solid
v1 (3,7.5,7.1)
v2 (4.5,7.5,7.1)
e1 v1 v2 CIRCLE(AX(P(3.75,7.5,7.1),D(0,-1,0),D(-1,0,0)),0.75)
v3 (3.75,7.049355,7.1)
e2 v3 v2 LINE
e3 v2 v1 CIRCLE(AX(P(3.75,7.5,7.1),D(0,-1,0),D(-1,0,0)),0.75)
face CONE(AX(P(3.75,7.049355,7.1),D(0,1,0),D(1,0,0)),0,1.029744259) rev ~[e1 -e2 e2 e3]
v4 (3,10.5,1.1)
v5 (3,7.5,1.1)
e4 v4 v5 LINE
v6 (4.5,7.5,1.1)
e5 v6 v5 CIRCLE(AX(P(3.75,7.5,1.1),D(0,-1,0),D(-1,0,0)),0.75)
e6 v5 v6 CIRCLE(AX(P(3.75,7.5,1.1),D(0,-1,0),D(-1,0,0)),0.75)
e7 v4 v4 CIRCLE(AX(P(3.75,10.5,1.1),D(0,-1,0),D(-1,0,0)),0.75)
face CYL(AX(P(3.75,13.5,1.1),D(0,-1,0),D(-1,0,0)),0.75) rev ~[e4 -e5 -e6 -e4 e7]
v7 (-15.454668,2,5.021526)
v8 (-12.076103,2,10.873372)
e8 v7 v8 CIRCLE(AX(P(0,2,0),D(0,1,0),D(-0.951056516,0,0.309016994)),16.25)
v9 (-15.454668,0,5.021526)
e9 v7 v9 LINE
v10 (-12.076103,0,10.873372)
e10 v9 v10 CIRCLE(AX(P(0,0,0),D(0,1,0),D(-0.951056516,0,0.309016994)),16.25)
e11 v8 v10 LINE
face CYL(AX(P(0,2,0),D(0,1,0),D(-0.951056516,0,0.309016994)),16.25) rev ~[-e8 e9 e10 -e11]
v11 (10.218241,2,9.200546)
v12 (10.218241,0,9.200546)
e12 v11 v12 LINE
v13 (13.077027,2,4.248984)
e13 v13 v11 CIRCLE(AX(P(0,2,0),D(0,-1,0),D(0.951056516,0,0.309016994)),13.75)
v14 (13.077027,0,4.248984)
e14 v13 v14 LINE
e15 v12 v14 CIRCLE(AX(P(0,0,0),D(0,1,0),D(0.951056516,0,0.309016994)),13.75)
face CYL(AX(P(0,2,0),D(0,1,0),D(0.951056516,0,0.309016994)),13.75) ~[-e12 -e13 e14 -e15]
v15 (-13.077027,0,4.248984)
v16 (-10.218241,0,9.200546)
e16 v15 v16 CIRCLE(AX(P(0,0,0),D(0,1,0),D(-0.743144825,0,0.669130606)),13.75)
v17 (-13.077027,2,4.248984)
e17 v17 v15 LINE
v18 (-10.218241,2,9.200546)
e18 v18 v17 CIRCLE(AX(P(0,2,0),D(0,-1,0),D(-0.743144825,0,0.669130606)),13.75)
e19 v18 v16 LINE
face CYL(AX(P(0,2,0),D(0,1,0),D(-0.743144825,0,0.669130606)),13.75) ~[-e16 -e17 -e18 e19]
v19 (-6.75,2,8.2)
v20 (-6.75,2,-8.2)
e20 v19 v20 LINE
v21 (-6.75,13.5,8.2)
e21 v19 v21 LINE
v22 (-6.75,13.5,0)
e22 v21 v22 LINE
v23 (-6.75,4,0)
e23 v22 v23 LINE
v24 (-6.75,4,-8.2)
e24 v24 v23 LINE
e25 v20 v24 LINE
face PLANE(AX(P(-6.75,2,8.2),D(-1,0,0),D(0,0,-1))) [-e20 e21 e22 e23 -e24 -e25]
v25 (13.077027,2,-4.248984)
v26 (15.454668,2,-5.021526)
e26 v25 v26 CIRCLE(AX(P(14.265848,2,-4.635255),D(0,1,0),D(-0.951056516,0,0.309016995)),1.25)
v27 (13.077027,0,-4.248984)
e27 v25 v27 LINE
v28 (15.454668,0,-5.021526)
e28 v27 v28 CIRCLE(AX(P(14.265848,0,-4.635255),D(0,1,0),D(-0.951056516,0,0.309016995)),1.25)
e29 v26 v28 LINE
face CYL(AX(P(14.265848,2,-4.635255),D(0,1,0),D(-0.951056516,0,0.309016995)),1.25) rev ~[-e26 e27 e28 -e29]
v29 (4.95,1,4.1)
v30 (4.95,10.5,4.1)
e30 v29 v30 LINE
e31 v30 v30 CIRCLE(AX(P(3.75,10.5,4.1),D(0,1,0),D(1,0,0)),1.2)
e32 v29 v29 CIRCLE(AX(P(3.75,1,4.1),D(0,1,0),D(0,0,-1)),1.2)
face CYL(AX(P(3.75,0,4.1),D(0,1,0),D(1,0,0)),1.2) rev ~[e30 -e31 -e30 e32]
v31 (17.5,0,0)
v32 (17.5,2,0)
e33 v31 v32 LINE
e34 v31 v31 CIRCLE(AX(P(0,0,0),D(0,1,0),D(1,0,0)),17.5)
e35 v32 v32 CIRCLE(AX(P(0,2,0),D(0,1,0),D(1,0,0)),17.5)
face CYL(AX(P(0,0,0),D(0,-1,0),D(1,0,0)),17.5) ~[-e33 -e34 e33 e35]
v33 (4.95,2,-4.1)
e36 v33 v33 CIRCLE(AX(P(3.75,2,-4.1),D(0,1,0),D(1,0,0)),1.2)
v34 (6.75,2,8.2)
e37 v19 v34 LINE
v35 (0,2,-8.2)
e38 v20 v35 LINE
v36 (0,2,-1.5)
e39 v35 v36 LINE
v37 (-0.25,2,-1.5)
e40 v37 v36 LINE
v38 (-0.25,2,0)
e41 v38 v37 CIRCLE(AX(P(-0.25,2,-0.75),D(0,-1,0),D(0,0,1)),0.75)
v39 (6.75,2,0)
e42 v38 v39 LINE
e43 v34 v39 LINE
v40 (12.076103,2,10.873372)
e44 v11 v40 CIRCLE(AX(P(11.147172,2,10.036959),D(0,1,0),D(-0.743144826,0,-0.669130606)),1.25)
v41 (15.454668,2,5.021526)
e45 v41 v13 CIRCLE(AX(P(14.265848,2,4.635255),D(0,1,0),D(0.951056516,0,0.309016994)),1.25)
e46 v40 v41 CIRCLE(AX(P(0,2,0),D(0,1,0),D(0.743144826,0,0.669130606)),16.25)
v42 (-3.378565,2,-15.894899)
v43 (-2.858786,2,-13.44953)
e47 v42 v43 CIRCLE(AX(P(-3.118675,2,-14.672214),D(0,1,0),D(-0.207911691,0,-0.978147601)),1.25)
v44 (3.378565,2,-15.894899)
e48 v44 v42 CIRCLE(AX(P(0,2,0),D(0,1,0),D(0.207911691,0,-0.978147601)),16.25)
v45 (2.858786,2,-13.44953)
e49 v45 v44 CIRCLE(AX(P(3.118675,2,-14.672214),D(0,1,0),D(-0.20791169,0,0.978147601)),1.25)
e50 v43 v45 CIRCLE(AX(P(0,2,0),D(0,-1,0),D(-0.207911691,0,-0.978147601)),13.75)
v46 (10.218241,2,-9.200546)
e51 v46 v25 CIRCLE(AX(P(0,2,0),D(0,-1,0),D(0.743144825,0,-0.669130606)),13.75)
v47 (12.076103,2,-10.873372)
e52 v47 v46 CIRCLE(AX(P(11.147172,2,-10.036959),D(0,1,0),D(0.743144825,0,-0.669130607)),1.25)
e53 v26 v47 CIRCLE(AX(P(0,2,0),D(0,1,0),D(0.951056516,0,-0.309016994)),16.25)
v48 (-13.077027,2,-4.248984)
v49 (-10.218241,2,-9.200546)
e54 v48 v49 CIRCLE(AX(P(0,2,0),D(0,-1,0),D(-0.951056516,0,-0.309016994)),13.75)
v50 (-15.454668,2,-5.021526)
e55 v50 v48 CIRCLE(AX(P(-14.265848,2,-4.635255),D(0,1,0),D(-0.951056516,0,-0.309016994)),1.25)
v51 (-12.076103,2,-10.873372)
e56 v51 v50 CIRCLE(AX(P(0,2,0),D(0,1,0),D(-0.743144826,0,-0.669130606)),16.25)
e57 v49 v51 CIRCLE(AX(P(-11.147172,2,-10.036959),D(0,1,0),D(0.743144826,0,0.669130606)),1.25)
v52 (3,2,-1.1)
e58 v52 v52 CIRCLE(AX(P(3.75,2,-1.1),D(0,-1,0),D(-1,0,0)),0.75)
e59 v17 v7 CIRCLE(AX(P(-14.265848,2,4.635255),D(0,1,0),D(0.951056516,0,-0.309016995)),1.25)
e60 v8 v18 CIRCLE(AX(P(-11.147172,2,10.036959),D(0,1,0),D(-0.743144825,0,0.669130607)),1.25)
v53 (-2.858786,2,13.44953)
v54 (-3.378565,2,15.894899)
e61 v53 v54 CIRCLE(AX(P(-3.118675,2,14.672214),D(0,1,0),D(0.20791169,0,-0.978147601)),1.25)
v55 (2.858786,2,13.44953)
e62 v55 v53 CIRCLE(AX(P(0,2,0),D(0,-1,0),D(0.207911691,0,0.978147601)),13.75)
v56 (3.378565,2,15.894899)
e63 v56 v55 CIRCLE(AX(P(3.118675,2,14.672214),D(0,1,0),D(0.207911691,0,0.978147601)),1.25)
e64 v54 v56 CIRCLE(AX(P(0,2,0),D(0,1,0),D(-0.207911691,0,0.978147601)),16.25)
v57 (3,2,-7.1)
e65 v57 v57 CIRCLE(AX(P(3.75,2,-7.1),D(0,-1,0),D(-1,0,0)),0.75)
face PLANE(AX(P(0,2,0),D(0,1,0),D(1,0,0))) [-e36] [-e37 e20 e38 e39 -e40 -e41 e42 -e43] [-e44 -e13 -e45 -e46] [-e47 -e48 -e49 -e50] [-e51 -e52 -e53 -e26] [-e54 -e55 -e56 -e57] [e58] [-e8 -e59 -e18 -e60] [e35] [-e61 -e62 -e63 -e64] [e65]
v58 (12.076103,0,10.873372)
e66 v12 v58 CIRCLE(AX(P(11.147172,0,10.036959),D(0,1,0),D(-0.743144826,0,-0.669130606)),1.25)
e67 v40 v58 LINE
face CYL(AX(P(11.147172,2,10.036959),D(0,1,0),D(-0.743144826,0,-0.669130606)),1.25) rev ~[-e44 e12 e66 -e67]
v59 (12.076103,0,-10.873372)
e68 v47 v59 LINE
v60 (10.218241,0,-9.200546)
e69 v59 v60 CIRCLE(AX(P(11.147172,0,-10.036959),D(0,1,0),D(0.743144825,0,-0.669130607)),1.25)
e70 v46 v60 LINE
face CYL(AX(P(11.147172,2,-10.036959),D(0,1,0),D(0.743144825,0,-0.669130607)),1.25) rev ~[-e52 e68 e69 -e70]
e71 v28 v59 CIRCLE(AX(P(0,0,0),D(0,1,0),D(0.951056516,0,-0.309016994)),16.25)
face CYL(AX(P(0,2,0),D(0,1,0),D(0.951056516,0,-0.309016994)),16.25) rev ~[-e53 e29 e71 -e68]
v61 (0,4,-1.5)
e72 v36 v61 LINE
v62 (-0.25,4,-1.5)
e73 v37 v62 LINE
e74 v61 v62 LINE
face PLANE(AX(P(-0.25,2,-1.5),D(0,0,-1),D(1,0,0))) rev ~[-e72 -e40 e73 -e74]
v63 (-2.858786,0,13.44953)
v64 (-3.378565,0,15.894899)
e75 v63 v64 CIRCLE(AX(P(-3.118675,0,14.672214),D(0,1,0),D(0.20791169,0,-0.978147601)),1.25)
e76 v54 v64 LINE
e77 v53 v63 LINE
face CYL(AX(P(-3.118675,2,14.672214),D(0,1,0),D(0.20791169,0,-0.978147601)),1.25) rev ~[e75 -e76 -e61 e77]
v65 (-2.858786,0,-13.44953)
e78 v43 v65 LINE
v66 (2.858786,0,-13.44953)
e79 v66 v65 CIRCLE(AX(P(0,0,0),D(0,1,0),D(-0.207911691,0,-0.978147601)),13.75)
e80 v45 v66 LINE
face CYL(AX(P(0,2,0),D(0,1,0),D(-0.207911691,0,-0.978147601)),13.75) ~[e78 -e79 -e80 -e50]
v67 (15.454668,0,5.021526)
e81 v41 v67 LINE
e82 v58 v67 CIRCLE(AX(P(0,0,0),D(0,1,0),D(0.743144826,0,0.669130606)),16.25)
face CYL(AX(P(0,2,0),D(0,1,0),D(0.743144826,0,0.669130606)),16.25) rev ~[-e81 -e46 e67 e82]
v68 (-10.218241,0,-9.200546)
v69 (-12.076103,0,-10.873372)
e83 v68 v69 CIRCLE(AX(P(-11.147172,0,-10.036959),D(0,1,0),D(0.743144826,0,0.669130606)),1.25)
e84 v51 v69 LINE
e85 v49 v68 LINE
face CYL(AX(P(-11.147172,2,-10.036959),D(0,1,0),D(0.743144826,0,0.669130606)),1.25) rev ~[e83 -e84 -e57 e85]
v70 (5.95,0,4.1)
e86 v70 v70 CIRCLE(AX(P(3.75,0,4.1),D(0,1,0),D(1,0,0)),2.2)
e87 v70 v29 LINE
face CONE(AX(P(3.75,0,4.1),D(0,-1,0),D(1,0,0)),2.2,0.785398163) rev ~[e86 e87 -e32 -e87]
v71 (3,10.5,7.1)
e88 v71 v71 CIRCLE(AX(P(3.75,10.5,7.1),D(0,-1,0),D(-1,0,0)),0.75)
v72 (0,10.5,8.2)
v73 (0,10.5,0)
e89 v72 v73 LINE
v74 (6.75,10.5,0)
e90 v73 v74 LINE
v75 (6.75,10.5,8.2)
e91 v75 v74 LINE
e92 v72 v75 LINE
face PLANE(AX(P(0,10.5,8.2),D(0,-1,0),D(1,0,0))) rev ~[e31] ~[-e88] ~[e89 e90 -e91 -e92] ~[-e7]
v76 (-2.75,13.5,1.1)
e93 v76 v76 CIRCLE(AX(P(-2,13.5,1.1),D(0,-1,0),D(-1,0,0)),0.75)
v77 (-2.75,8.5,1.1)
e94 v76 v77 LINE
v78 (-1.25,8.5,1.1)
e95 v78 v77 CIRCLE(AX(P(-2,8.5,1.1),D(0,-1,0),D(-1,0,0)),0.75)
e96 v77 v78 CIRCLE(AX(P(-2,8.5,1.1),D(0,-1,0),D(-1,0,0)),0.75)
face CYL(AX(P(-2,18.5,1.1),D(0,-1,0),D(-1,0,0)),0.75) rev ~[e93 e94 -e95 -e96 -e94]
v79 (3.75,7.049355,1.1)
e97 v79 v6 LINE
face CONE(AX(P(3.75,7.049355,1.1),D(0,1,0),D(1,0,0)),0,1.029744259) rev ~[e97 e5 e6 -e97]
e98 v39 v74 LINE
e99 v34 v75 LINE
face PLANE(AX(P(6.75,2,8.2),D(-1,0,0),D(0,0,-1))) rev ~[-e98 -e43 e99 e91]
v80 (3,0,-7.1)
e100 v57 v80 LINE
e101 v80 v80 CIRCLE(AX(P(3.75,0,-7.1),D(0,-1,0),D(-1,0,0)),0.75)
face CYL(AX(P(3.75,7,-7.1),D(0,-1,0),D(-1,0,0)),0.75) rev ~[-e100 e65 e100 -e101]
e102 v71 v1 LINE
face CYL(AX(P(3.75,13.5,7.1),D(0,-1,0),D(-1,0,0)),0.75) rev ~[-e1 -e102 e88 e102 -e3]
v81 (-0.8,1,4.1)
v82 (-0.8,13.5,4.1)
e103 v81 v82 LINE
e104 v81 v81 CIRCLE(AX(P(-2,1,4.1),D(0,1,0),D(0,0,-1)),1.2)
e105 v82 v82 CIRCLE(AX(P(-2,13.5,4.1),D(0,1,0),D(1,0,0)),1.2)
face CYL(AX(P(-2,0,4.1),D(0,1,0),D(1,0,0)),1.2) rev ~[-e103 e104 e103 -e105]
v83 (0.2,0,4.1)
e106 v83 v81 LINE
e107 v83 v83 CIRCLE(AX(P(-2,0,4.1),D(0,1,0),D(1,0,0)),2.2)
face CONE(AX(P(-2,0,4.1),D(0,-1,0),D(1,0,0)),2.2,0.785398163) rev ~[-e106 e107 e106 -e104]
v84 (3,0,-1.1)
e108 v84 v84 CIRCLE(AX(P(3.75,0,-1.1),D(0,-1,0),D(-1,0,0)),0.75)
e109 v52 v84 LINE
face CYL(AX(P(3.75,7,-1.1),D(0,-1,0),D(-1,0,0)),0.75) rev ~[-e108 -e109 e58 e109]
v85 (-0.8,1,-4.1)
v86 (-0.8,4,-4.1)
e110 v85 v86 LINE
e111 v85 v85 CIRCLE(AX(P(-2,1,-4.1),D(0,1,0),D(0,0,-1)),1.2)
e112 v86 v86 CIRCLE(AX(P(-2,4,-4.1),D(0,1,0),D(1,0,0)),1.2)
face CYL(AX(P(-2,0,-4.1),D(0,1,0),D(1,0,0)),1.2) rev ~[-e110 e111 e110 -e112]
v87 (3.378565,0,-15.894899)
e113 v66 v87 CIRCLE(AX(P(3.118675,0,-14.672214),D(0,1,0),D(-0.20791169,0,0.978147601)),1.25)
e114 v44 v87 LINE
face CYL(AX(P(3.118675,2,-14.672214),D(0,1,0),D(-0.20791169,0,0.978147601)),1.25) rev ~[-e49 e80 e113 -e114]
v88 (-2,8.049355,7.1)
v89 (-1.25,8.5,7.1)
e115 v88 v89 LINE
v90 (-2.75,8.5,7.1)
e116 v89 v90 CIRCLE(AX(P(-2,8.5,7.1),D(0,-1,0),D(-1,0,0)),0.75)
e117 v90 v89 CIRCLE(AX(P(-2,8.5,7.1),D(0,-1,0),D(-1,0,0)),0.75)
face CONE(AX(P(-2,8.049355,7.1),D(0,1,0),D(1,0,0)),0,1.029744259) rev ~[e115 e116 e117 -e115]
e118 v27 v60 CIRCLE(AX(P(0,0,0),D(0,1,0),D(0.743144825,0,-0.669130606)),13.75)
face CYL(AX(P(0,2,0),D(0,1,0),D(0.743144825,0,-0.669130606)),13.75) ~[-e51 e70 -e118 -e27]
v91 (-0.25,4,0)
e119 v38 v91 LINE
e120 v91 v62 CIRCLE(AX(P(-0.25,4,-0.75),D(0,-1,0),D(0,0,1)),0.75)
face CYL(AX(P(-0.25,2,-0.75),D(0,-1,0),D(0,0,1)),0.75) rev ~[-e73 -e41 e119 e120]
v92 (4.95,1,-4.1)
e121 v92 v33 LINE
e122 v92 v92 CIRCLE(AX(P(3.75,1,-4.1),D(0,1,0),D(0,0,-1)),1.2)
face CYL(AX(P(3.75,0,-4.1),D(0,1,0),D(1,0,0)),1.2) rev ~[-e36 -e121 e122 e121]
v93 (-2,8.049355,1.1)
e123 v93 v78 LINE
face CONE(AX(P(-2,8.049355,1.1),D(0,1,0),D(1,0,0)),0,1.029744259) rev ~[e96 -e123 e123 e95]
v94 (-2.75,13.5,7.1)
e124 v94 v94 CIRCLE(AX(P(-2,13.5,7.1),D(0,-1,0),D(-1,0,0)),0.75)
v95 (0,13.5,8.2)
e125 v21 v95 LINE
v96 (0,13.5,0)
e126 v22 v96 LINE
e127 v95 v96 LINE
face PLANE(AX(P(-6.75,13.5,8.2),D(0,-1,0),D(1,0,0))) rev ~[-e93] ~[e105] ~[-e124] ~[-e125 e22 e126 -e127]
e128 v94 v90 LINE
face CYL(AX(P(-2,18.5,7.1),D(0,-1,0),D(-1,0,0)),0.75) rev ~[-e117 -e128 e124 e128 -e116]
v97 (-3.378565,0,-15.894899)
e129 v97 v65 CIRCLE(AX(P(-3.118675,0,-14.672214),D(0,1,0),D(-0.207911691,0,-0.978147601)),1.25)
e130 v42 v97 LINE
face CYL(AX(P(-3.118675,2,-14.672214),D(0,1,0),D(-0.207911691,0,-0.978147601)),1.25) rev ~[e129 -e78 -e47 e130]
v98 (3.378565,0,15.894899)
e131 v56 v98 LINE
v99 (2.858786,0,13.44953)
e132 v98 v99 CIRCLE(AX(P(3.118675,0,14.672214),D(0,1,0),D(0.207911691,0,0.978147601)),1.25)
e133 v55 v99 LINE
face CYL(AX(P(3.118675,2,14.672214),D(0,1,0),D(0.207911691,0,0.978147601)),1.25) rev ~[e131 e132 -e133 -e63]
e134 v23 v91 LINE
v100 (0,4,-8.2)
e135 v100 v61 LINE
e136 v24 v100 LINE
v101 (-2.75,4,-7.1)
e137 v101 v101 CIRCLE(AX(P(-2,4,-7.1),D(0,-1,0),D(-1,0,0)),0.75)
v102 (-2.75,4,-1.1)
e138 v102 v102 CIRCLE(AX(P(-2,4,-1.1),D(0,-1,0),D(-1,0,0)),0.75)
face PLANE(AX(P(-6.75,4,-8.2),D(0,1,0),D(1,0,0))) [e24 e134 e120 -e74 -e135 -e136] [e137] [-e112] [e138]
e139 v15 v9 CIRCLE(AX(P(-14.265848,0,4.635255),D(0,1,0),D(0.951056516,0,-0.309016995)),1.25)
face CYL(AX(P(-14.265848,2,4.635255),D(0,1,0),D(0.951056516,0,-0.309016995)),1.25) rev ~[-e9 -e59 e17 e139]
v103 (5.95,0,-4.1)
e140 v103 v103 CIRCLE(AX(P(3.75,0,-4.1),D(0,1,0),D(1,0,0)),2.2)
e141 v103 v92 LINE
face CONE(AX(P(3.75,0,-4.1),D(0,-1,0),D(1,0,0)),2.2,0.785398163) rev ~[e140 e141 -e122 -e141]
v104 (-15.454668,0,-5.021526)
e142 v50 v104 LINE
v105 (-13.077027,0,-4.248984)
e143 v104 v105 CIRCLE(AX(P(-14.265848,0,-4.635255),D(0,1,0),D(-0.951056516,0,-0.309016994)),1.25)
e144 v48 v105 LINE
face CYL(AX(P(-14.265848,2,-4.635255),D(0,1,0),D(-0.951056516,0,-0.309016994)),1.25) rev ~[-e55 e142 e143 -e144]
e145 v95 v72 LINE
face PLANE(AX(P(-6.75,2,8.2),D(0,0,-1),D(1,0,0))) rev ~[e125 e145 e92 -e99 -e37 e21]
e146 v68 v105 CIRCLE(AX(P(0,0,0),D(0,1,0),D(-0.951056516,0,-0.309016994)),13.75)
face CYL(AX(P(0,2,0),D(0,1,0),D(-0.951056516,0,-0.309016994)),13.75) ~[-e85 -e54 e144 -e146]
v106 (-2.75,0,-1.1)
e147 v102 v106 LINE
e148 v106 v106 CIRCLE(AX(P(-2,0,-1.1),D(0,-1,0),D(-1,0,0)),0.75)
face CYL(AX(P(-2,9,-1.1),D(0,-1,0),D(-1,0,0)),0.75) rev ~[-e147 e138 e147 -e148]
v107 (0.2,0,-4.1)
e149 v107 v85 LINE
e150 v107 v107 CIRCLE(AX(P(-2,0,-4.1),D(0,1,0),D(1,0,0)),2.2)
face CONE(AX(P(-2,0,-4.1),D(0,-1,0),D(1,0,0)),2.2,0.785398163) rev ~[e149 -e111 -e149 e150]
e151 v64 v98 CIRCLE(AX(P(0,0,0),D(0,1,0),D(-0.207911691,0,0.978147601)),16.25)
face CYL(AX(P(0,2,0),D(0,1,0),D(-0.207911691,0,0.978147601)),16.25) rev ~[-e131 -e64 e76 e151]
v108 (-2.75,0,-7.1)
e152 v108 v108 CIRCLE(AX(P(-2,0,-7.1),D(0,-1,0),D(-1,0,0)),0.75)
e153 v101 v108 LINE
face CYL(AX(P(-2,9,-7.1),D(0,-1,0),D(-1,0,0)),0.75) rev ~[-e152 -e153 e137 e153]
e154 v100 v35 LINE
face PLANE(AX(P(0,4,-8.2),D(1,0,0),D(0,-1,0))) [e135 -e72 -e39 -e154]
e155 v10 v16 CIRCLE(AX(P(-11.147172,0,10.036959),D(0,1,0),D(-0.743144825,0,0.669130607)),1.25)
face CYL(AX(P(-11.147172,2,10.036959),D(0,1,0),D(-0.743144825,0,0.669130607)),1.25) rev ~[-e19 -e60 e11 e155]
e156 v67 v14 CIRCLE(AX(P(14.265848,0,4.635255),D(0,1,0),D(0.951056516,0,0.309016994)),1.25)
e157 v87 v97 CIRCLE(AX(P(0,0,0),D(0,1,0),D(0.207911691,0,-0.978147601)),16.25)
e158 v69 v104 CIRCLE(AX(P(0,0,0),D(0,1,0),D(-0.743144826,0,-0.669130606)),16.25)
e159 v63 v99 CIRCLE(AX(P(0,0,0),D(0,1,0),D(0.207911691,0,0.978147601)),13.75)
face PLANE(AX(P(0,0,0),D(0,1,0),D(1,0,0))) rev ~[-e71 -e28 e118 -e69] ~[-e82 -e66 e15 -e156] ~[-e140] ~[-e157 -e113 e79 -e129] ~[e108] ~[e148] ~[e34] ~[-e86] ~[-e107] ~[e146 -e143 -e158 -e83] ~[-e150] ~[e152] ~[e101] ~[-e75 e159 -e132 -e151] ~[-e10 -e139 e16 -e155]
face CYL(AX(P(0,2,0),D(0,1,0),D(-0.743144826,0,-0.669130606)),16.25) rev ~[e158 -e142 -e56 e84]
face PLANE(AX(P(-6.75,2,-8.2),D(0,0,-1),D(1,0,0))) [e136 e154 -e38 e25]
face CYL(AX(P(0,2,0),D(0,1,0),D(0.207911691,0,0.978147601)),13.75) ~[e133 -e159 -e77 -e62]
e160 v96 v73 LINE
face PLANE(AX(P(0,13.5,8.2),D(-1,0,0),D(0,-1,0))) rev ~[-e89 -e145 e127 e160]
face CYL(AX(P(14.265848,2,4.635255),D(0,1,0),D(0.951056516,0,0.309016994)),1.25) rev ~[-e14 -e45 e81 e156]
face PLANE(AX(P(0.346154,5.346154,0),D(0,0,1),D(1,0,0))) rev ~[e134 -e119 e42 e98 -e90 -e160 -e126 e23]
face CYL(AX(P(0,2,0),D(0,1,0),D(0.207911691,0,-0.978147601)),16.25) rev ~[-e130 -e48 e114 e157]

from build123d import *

# Parameters (mm, degrees)
SKETCH1_R                                       = 17.5
BOSS_EXTRUDE1_DEPTH                             = 2
CUT_EXTRUDE1_DEPTH                              = 3
CIRPATTERN1_COUNT                               = 6
SKETCH3_W                                       = 13.5
SKETCH3_H                                       = 16.4
BOSS_EXTRUDE2_DEPTH                             = 17.5
SKETCH4_W                                       = 13.5
SKETCH4_H                                       = 8.2
CUT_EXTRUDE2_DEPTH                              = 11.5
CUT_EXTRUDE3_DEPTH                              = 26.7
CUT_EXTRUDE4_DEPTH                              = 8.2
F_1_5MM_DOWEL_HOLE1_D                           = 1.5
F_1_5MM_DOWEL_HOLE1_DEPTH                       = 5
F_1_5MM_DOWEL_HOLE1_TIP                         = 0.450645464
F_1_5MM_DOWEL_HOLE2_D                           = 1.5
F_1_5MM_DOWEL_HOLE2_DEPTH                       = 3
F_1_5MM_DOWEL_HOLE2_TIP                         = 0.450645464
F_1_5MM_DOWEL_HOLE4_D                           = 1.5
F_1_5MM_DOWEL_HOLE4_DEPTH                       = 5
F_1_5MM_DOWEL_HOLE4_TIP                         = 0.450645464
F_1_5MM_DOWEL_HOLE3_D                           = 1.5
F_1_5MM_DOWEL_HOLE3_DEPTH                       = 5
F_1_5MM_DOWEL_HOLE3_TIP                         = 0.450645464
SKETCH16_R                                      = 1
CUT_EXTRUDE7_DEPTH                              = 14.5
CSK_FOR_M2_FLAT_HEAD_MACHINE_SCREW2_D           = 2.4
CSK_FOR_M2_FLAT_HEAD_MACHINE_SCREW2_CSINK_D     = 4.4
CSK_FOR_M2_FLAT_HEAD_MACHINE_SCREW2_CSINK_ANGLE = 90
CUT_EXTRUDE6_DEPTH                              = 11.5


with BuildPart() as part:
    # Sketch1 → Boss-Extrude1 (new body)
    with BuildSketch(Plane(origin=(0, 0, 0), x_dir=(1, 0, 0), z_dir=(0, 1, 0))):
        Circle(SKETCH1_R)
    extrude(amount=BOSS_EXTRUDE1_DEPTH)

    # Sketch2 → Cut-Extrude1 (cut, through all)
    with BuildSketch(Plane(origin=(0, 2, 0), x_dir=(1, 0, 0), z_dir=(0, 1, 0))):
        with BuildLine():
            ThreePointArc((3.378564976, 15.894898512), (0, 16.25), (-3.378564976, 15.894898512))
            ThreePointArc((-3.378564976, 15.894898512), (-4.341359863, 14.412324397), (-2.858785749, 13.44952951))
            ThreePointArc((-2.858785749, 13.44952951), (0, 13.75), (2.858785749, 13.44952951))
            ThreePointArc((2.858785749, 13.44952951), (4.341359863, 14.412324397), (3.378564976, 15.894898512))
        make_face()
    cut_extrude1 = extrude(amount=-CUT_EXTRUDE1_DEPTH, mode=Mode.SUBTRACT)

    # CirPattern1: Cut-Extrude1 ×6 about axis
    cirpattern1_axis = Axis((0, 0, 0), (0, 1, 0))
    for i in range(1, CIRPATTERN1_COUNT):
        add(cut_extrude1.rotate(cirpattern1_axis, i * 360 / CIRPATTERN1_COUNT), mode=Mode.SUBTRACT)

    # Sketch3 → Boss-Extrude2 (add)
    with BuildSketch(Plane(origin=(0, 2, 0), x_dir=(1, 0, 0), z_dir=(0, 1, 0))):
        Rectangle(SKETCH3_W, SKETCH3_H)
    extrude(amount=BOSS_EXTRUDE2_DEPTH)

    # Sketch4 → Cut-Extrude2 (cut)
    with BuildSketch(Plane(origin=(0, 19.5, 0), x_dir=(1, 0, 0), z_dir=(0, 1, 0))):
        with Locations((0, 4.1)):
            Rectangle(SKETCH4_W, SKETCH4_H)
    extrude(amount=-CUT_EXTRUDE2_DEPTH, mode=Mode.SUBTRACT)

    # Sketch5 → Cut-Extrude3 (cut, through all)
    with BuildSketch(Plane.XY.offset(8.2)):
        Polygon((-6.75, 19.5), (-6.75, 13.5), (0, 13.5), (0, 10.5), (6.75, 10.5), (6.75, 19.5), align=None)
    extrude(amount=-CUT_EXTRUDE3_DEPTH, mode=Mode.SUBTRACT)

    # Sketch6 → Cut-Extrude4 (cut)
    with BuildSketch(Plane(origin=(0, 0, -8.2), x_dir=(-1, 0, 0), z_dir=(0, 0, -1))):
        Polygon((6.75, 8), (6.75, 4), (0, 4), (0, 2), (-6.75, 2), (-6.75, 8), align=None)
    extrude(amount=-CUT_EXTRUDE4_DEPTH, mode=Mode.SUBTRACT)

    # Ø1.5mm Dowel Hole1
    with Locations(Plane(origin=(0, 13.5, 0), x_dir=(1, 0, 0), z_dir=(0, 1, 0))):
        with Locations((-2, -1.1), (-2, -7.1)):
            Hole(F_1_5MM_DOWEL_HOLE1_D / 2, depth=F_1_5MM_DOWEL_HOLE1_DEPTH)
            with Locations((0, 0, -(F_1_5MM_DOWEL_HOLE1_DEPTH + F_1_5MM_DOWEL_HOLE1_TIP / 2))):  # 118° drill point
                Cone(0, F_1_5MM_DOWEL_HOLE1_D / 2, F_1_5MM_DOWEL_HOLE1_TIP, mode=Mode.SUBTRACT)

    # Ø1.5mm Dowel Hole2
    with Locations(Plane(origin=(0, 10.5, 0), x_dir=(1, 0, 0), z_dir=(0, 1, 0))):
        with Locations((3.75, -1.1), (3.75, -7.1)):
            Hole(F_1_5MM_DOWEL_HOLE2_D / 2, depth=F_1_5MM_DOWEL_HOLE2_DEPTH)
            with Locations((0, 0, -(F_1_5MM_DOWEL_HOLE2_DEPTH + F_1_5MM_DOWEL_HOLE2_TIP / 2))):  # 118° drill point
                Cone(0, F_1_5MM_DOWEL_HOLE2_D / 2, F_1_5MM_DOWEL_HOLE2_TIP, mode=Mode.SUBTRACT)

    # Ø1.5mm Dowel Hole4
    with Locations(Plane(origin=(0, 4, 0), x_dir=(1, 0, 0), z_dir=(0, 1, 0))):
        with Locations((-2, 7.1), (-2, 1.1)):
            Hole(F_1_5MM_DOWEL_HOLE4_D / 2, depth=F_1_5MM_DOWEL_HOLE4_DEPTH)
            with Locations((0, 0, -(F_1_5MM_DOWEL_HOLE4_DEPTH + F_1_5MM_DOWEL_HOLE4_TIP / 2))):  # 118° drill point
                Cone(0, F_1_5MM_DOWEL_HOLE4_D / 2, F_1_5MM_DOWEL_HOLE4_TIP, mode=Mode.SUBTRACT)

    # Ø1.5mm Dowel Hole3
    with Locations(Plane(origin=(0, 2, 0), x_dir=(1, 0, 0), z_dir=(0, 1, 0))):
        with Locations((3.75, 7.1), (3.75, 1.1)):
            Hole(F_1_5MM_DOWEL_HOLE3_D / 2, depth=F_1_5MM_DOWEL_HOLE3_DEPTH)
            with Locations((0, 0, -(F_1_5MM_DOWEL_HOLE3_DEPTH + F_1_5MM_DOWEL_HOLE3_TIP / 2))):  # 118° drill point
                Cone(0, F_1_5MM_DOWEL_HOLE3_D / 2, F_1_5MM_DOWEL_HOLE3_TIP, mode=Mode.SUBTRACT)

    # Sketch16 → Cut-Extrude7 (cut, through all)
    with BuildSketch(Plane(origin=(0, 13.5, 0), x_dir=(1, 0, 0), z_dir=(0, 1, 0))):
        with Locations((-2, -4.1)):
            Circle(SKETCH16_R)
        with Locations((3.75, -4.1)):
            Circle(SKETCH16_R)
        with Locations((3.75, 4.1)):
            Circle(SKETCH16_R)
        with Locations((-2, 4.1)):
            Circle(SKETCH16_R)
    extrude(amount=-CUT_EXTRUDE7_DEPTH, mode=Mode.SUBTRACT)

    # CSK for M2 Flat Head Machine Screw2 (through all)
    with Locations(Plane(origin=(0, 0, 0), x_dir=(-1, 0, 0), z_dir=(0, -1, 0))):
        with Locations((-3.75, 4.1), (2, 4.1), (2, -4.1), (-3.75, -4.1)):
            CounterSinkHole(CSK_FOR_M2_FLAT_HEAD_MACHINE_SCREW2_D / 2, CSK_FOR_M2_FLAT_HEAD_MACHINE_SCREW2_CSINK_D / 2, counter_sink_angle=CSK_FOR_M2_FLAT_HEAD_MACHINE_SCREW2_CSINK_ANGLE)

    # Sketch19 → Cut-Extrude6 (cut)
    with BuildSketch(Plane(origin=(0, 2, 0), x_dir=(1, 0, 0), z_dir=(0, 1, 0))):
        with BuildLine():
            Line((-0.25, 1.5), (1.22977385, 1.5))
            ThreePointArc((1.22977385, 1.5), (1.97977385, 0.75), (1.22977385, 0))
            Line((1.22977385, 0), (-0.25, 0))
            ThreePointArc((-0.25, 0), (-1, 0.75), (-0.25, 1.5))
        make_face()
    extrude(amount=CUT_EXTRUDE6_DEPTH, mode=Mode.SUBTRACT)


solid = part.part
